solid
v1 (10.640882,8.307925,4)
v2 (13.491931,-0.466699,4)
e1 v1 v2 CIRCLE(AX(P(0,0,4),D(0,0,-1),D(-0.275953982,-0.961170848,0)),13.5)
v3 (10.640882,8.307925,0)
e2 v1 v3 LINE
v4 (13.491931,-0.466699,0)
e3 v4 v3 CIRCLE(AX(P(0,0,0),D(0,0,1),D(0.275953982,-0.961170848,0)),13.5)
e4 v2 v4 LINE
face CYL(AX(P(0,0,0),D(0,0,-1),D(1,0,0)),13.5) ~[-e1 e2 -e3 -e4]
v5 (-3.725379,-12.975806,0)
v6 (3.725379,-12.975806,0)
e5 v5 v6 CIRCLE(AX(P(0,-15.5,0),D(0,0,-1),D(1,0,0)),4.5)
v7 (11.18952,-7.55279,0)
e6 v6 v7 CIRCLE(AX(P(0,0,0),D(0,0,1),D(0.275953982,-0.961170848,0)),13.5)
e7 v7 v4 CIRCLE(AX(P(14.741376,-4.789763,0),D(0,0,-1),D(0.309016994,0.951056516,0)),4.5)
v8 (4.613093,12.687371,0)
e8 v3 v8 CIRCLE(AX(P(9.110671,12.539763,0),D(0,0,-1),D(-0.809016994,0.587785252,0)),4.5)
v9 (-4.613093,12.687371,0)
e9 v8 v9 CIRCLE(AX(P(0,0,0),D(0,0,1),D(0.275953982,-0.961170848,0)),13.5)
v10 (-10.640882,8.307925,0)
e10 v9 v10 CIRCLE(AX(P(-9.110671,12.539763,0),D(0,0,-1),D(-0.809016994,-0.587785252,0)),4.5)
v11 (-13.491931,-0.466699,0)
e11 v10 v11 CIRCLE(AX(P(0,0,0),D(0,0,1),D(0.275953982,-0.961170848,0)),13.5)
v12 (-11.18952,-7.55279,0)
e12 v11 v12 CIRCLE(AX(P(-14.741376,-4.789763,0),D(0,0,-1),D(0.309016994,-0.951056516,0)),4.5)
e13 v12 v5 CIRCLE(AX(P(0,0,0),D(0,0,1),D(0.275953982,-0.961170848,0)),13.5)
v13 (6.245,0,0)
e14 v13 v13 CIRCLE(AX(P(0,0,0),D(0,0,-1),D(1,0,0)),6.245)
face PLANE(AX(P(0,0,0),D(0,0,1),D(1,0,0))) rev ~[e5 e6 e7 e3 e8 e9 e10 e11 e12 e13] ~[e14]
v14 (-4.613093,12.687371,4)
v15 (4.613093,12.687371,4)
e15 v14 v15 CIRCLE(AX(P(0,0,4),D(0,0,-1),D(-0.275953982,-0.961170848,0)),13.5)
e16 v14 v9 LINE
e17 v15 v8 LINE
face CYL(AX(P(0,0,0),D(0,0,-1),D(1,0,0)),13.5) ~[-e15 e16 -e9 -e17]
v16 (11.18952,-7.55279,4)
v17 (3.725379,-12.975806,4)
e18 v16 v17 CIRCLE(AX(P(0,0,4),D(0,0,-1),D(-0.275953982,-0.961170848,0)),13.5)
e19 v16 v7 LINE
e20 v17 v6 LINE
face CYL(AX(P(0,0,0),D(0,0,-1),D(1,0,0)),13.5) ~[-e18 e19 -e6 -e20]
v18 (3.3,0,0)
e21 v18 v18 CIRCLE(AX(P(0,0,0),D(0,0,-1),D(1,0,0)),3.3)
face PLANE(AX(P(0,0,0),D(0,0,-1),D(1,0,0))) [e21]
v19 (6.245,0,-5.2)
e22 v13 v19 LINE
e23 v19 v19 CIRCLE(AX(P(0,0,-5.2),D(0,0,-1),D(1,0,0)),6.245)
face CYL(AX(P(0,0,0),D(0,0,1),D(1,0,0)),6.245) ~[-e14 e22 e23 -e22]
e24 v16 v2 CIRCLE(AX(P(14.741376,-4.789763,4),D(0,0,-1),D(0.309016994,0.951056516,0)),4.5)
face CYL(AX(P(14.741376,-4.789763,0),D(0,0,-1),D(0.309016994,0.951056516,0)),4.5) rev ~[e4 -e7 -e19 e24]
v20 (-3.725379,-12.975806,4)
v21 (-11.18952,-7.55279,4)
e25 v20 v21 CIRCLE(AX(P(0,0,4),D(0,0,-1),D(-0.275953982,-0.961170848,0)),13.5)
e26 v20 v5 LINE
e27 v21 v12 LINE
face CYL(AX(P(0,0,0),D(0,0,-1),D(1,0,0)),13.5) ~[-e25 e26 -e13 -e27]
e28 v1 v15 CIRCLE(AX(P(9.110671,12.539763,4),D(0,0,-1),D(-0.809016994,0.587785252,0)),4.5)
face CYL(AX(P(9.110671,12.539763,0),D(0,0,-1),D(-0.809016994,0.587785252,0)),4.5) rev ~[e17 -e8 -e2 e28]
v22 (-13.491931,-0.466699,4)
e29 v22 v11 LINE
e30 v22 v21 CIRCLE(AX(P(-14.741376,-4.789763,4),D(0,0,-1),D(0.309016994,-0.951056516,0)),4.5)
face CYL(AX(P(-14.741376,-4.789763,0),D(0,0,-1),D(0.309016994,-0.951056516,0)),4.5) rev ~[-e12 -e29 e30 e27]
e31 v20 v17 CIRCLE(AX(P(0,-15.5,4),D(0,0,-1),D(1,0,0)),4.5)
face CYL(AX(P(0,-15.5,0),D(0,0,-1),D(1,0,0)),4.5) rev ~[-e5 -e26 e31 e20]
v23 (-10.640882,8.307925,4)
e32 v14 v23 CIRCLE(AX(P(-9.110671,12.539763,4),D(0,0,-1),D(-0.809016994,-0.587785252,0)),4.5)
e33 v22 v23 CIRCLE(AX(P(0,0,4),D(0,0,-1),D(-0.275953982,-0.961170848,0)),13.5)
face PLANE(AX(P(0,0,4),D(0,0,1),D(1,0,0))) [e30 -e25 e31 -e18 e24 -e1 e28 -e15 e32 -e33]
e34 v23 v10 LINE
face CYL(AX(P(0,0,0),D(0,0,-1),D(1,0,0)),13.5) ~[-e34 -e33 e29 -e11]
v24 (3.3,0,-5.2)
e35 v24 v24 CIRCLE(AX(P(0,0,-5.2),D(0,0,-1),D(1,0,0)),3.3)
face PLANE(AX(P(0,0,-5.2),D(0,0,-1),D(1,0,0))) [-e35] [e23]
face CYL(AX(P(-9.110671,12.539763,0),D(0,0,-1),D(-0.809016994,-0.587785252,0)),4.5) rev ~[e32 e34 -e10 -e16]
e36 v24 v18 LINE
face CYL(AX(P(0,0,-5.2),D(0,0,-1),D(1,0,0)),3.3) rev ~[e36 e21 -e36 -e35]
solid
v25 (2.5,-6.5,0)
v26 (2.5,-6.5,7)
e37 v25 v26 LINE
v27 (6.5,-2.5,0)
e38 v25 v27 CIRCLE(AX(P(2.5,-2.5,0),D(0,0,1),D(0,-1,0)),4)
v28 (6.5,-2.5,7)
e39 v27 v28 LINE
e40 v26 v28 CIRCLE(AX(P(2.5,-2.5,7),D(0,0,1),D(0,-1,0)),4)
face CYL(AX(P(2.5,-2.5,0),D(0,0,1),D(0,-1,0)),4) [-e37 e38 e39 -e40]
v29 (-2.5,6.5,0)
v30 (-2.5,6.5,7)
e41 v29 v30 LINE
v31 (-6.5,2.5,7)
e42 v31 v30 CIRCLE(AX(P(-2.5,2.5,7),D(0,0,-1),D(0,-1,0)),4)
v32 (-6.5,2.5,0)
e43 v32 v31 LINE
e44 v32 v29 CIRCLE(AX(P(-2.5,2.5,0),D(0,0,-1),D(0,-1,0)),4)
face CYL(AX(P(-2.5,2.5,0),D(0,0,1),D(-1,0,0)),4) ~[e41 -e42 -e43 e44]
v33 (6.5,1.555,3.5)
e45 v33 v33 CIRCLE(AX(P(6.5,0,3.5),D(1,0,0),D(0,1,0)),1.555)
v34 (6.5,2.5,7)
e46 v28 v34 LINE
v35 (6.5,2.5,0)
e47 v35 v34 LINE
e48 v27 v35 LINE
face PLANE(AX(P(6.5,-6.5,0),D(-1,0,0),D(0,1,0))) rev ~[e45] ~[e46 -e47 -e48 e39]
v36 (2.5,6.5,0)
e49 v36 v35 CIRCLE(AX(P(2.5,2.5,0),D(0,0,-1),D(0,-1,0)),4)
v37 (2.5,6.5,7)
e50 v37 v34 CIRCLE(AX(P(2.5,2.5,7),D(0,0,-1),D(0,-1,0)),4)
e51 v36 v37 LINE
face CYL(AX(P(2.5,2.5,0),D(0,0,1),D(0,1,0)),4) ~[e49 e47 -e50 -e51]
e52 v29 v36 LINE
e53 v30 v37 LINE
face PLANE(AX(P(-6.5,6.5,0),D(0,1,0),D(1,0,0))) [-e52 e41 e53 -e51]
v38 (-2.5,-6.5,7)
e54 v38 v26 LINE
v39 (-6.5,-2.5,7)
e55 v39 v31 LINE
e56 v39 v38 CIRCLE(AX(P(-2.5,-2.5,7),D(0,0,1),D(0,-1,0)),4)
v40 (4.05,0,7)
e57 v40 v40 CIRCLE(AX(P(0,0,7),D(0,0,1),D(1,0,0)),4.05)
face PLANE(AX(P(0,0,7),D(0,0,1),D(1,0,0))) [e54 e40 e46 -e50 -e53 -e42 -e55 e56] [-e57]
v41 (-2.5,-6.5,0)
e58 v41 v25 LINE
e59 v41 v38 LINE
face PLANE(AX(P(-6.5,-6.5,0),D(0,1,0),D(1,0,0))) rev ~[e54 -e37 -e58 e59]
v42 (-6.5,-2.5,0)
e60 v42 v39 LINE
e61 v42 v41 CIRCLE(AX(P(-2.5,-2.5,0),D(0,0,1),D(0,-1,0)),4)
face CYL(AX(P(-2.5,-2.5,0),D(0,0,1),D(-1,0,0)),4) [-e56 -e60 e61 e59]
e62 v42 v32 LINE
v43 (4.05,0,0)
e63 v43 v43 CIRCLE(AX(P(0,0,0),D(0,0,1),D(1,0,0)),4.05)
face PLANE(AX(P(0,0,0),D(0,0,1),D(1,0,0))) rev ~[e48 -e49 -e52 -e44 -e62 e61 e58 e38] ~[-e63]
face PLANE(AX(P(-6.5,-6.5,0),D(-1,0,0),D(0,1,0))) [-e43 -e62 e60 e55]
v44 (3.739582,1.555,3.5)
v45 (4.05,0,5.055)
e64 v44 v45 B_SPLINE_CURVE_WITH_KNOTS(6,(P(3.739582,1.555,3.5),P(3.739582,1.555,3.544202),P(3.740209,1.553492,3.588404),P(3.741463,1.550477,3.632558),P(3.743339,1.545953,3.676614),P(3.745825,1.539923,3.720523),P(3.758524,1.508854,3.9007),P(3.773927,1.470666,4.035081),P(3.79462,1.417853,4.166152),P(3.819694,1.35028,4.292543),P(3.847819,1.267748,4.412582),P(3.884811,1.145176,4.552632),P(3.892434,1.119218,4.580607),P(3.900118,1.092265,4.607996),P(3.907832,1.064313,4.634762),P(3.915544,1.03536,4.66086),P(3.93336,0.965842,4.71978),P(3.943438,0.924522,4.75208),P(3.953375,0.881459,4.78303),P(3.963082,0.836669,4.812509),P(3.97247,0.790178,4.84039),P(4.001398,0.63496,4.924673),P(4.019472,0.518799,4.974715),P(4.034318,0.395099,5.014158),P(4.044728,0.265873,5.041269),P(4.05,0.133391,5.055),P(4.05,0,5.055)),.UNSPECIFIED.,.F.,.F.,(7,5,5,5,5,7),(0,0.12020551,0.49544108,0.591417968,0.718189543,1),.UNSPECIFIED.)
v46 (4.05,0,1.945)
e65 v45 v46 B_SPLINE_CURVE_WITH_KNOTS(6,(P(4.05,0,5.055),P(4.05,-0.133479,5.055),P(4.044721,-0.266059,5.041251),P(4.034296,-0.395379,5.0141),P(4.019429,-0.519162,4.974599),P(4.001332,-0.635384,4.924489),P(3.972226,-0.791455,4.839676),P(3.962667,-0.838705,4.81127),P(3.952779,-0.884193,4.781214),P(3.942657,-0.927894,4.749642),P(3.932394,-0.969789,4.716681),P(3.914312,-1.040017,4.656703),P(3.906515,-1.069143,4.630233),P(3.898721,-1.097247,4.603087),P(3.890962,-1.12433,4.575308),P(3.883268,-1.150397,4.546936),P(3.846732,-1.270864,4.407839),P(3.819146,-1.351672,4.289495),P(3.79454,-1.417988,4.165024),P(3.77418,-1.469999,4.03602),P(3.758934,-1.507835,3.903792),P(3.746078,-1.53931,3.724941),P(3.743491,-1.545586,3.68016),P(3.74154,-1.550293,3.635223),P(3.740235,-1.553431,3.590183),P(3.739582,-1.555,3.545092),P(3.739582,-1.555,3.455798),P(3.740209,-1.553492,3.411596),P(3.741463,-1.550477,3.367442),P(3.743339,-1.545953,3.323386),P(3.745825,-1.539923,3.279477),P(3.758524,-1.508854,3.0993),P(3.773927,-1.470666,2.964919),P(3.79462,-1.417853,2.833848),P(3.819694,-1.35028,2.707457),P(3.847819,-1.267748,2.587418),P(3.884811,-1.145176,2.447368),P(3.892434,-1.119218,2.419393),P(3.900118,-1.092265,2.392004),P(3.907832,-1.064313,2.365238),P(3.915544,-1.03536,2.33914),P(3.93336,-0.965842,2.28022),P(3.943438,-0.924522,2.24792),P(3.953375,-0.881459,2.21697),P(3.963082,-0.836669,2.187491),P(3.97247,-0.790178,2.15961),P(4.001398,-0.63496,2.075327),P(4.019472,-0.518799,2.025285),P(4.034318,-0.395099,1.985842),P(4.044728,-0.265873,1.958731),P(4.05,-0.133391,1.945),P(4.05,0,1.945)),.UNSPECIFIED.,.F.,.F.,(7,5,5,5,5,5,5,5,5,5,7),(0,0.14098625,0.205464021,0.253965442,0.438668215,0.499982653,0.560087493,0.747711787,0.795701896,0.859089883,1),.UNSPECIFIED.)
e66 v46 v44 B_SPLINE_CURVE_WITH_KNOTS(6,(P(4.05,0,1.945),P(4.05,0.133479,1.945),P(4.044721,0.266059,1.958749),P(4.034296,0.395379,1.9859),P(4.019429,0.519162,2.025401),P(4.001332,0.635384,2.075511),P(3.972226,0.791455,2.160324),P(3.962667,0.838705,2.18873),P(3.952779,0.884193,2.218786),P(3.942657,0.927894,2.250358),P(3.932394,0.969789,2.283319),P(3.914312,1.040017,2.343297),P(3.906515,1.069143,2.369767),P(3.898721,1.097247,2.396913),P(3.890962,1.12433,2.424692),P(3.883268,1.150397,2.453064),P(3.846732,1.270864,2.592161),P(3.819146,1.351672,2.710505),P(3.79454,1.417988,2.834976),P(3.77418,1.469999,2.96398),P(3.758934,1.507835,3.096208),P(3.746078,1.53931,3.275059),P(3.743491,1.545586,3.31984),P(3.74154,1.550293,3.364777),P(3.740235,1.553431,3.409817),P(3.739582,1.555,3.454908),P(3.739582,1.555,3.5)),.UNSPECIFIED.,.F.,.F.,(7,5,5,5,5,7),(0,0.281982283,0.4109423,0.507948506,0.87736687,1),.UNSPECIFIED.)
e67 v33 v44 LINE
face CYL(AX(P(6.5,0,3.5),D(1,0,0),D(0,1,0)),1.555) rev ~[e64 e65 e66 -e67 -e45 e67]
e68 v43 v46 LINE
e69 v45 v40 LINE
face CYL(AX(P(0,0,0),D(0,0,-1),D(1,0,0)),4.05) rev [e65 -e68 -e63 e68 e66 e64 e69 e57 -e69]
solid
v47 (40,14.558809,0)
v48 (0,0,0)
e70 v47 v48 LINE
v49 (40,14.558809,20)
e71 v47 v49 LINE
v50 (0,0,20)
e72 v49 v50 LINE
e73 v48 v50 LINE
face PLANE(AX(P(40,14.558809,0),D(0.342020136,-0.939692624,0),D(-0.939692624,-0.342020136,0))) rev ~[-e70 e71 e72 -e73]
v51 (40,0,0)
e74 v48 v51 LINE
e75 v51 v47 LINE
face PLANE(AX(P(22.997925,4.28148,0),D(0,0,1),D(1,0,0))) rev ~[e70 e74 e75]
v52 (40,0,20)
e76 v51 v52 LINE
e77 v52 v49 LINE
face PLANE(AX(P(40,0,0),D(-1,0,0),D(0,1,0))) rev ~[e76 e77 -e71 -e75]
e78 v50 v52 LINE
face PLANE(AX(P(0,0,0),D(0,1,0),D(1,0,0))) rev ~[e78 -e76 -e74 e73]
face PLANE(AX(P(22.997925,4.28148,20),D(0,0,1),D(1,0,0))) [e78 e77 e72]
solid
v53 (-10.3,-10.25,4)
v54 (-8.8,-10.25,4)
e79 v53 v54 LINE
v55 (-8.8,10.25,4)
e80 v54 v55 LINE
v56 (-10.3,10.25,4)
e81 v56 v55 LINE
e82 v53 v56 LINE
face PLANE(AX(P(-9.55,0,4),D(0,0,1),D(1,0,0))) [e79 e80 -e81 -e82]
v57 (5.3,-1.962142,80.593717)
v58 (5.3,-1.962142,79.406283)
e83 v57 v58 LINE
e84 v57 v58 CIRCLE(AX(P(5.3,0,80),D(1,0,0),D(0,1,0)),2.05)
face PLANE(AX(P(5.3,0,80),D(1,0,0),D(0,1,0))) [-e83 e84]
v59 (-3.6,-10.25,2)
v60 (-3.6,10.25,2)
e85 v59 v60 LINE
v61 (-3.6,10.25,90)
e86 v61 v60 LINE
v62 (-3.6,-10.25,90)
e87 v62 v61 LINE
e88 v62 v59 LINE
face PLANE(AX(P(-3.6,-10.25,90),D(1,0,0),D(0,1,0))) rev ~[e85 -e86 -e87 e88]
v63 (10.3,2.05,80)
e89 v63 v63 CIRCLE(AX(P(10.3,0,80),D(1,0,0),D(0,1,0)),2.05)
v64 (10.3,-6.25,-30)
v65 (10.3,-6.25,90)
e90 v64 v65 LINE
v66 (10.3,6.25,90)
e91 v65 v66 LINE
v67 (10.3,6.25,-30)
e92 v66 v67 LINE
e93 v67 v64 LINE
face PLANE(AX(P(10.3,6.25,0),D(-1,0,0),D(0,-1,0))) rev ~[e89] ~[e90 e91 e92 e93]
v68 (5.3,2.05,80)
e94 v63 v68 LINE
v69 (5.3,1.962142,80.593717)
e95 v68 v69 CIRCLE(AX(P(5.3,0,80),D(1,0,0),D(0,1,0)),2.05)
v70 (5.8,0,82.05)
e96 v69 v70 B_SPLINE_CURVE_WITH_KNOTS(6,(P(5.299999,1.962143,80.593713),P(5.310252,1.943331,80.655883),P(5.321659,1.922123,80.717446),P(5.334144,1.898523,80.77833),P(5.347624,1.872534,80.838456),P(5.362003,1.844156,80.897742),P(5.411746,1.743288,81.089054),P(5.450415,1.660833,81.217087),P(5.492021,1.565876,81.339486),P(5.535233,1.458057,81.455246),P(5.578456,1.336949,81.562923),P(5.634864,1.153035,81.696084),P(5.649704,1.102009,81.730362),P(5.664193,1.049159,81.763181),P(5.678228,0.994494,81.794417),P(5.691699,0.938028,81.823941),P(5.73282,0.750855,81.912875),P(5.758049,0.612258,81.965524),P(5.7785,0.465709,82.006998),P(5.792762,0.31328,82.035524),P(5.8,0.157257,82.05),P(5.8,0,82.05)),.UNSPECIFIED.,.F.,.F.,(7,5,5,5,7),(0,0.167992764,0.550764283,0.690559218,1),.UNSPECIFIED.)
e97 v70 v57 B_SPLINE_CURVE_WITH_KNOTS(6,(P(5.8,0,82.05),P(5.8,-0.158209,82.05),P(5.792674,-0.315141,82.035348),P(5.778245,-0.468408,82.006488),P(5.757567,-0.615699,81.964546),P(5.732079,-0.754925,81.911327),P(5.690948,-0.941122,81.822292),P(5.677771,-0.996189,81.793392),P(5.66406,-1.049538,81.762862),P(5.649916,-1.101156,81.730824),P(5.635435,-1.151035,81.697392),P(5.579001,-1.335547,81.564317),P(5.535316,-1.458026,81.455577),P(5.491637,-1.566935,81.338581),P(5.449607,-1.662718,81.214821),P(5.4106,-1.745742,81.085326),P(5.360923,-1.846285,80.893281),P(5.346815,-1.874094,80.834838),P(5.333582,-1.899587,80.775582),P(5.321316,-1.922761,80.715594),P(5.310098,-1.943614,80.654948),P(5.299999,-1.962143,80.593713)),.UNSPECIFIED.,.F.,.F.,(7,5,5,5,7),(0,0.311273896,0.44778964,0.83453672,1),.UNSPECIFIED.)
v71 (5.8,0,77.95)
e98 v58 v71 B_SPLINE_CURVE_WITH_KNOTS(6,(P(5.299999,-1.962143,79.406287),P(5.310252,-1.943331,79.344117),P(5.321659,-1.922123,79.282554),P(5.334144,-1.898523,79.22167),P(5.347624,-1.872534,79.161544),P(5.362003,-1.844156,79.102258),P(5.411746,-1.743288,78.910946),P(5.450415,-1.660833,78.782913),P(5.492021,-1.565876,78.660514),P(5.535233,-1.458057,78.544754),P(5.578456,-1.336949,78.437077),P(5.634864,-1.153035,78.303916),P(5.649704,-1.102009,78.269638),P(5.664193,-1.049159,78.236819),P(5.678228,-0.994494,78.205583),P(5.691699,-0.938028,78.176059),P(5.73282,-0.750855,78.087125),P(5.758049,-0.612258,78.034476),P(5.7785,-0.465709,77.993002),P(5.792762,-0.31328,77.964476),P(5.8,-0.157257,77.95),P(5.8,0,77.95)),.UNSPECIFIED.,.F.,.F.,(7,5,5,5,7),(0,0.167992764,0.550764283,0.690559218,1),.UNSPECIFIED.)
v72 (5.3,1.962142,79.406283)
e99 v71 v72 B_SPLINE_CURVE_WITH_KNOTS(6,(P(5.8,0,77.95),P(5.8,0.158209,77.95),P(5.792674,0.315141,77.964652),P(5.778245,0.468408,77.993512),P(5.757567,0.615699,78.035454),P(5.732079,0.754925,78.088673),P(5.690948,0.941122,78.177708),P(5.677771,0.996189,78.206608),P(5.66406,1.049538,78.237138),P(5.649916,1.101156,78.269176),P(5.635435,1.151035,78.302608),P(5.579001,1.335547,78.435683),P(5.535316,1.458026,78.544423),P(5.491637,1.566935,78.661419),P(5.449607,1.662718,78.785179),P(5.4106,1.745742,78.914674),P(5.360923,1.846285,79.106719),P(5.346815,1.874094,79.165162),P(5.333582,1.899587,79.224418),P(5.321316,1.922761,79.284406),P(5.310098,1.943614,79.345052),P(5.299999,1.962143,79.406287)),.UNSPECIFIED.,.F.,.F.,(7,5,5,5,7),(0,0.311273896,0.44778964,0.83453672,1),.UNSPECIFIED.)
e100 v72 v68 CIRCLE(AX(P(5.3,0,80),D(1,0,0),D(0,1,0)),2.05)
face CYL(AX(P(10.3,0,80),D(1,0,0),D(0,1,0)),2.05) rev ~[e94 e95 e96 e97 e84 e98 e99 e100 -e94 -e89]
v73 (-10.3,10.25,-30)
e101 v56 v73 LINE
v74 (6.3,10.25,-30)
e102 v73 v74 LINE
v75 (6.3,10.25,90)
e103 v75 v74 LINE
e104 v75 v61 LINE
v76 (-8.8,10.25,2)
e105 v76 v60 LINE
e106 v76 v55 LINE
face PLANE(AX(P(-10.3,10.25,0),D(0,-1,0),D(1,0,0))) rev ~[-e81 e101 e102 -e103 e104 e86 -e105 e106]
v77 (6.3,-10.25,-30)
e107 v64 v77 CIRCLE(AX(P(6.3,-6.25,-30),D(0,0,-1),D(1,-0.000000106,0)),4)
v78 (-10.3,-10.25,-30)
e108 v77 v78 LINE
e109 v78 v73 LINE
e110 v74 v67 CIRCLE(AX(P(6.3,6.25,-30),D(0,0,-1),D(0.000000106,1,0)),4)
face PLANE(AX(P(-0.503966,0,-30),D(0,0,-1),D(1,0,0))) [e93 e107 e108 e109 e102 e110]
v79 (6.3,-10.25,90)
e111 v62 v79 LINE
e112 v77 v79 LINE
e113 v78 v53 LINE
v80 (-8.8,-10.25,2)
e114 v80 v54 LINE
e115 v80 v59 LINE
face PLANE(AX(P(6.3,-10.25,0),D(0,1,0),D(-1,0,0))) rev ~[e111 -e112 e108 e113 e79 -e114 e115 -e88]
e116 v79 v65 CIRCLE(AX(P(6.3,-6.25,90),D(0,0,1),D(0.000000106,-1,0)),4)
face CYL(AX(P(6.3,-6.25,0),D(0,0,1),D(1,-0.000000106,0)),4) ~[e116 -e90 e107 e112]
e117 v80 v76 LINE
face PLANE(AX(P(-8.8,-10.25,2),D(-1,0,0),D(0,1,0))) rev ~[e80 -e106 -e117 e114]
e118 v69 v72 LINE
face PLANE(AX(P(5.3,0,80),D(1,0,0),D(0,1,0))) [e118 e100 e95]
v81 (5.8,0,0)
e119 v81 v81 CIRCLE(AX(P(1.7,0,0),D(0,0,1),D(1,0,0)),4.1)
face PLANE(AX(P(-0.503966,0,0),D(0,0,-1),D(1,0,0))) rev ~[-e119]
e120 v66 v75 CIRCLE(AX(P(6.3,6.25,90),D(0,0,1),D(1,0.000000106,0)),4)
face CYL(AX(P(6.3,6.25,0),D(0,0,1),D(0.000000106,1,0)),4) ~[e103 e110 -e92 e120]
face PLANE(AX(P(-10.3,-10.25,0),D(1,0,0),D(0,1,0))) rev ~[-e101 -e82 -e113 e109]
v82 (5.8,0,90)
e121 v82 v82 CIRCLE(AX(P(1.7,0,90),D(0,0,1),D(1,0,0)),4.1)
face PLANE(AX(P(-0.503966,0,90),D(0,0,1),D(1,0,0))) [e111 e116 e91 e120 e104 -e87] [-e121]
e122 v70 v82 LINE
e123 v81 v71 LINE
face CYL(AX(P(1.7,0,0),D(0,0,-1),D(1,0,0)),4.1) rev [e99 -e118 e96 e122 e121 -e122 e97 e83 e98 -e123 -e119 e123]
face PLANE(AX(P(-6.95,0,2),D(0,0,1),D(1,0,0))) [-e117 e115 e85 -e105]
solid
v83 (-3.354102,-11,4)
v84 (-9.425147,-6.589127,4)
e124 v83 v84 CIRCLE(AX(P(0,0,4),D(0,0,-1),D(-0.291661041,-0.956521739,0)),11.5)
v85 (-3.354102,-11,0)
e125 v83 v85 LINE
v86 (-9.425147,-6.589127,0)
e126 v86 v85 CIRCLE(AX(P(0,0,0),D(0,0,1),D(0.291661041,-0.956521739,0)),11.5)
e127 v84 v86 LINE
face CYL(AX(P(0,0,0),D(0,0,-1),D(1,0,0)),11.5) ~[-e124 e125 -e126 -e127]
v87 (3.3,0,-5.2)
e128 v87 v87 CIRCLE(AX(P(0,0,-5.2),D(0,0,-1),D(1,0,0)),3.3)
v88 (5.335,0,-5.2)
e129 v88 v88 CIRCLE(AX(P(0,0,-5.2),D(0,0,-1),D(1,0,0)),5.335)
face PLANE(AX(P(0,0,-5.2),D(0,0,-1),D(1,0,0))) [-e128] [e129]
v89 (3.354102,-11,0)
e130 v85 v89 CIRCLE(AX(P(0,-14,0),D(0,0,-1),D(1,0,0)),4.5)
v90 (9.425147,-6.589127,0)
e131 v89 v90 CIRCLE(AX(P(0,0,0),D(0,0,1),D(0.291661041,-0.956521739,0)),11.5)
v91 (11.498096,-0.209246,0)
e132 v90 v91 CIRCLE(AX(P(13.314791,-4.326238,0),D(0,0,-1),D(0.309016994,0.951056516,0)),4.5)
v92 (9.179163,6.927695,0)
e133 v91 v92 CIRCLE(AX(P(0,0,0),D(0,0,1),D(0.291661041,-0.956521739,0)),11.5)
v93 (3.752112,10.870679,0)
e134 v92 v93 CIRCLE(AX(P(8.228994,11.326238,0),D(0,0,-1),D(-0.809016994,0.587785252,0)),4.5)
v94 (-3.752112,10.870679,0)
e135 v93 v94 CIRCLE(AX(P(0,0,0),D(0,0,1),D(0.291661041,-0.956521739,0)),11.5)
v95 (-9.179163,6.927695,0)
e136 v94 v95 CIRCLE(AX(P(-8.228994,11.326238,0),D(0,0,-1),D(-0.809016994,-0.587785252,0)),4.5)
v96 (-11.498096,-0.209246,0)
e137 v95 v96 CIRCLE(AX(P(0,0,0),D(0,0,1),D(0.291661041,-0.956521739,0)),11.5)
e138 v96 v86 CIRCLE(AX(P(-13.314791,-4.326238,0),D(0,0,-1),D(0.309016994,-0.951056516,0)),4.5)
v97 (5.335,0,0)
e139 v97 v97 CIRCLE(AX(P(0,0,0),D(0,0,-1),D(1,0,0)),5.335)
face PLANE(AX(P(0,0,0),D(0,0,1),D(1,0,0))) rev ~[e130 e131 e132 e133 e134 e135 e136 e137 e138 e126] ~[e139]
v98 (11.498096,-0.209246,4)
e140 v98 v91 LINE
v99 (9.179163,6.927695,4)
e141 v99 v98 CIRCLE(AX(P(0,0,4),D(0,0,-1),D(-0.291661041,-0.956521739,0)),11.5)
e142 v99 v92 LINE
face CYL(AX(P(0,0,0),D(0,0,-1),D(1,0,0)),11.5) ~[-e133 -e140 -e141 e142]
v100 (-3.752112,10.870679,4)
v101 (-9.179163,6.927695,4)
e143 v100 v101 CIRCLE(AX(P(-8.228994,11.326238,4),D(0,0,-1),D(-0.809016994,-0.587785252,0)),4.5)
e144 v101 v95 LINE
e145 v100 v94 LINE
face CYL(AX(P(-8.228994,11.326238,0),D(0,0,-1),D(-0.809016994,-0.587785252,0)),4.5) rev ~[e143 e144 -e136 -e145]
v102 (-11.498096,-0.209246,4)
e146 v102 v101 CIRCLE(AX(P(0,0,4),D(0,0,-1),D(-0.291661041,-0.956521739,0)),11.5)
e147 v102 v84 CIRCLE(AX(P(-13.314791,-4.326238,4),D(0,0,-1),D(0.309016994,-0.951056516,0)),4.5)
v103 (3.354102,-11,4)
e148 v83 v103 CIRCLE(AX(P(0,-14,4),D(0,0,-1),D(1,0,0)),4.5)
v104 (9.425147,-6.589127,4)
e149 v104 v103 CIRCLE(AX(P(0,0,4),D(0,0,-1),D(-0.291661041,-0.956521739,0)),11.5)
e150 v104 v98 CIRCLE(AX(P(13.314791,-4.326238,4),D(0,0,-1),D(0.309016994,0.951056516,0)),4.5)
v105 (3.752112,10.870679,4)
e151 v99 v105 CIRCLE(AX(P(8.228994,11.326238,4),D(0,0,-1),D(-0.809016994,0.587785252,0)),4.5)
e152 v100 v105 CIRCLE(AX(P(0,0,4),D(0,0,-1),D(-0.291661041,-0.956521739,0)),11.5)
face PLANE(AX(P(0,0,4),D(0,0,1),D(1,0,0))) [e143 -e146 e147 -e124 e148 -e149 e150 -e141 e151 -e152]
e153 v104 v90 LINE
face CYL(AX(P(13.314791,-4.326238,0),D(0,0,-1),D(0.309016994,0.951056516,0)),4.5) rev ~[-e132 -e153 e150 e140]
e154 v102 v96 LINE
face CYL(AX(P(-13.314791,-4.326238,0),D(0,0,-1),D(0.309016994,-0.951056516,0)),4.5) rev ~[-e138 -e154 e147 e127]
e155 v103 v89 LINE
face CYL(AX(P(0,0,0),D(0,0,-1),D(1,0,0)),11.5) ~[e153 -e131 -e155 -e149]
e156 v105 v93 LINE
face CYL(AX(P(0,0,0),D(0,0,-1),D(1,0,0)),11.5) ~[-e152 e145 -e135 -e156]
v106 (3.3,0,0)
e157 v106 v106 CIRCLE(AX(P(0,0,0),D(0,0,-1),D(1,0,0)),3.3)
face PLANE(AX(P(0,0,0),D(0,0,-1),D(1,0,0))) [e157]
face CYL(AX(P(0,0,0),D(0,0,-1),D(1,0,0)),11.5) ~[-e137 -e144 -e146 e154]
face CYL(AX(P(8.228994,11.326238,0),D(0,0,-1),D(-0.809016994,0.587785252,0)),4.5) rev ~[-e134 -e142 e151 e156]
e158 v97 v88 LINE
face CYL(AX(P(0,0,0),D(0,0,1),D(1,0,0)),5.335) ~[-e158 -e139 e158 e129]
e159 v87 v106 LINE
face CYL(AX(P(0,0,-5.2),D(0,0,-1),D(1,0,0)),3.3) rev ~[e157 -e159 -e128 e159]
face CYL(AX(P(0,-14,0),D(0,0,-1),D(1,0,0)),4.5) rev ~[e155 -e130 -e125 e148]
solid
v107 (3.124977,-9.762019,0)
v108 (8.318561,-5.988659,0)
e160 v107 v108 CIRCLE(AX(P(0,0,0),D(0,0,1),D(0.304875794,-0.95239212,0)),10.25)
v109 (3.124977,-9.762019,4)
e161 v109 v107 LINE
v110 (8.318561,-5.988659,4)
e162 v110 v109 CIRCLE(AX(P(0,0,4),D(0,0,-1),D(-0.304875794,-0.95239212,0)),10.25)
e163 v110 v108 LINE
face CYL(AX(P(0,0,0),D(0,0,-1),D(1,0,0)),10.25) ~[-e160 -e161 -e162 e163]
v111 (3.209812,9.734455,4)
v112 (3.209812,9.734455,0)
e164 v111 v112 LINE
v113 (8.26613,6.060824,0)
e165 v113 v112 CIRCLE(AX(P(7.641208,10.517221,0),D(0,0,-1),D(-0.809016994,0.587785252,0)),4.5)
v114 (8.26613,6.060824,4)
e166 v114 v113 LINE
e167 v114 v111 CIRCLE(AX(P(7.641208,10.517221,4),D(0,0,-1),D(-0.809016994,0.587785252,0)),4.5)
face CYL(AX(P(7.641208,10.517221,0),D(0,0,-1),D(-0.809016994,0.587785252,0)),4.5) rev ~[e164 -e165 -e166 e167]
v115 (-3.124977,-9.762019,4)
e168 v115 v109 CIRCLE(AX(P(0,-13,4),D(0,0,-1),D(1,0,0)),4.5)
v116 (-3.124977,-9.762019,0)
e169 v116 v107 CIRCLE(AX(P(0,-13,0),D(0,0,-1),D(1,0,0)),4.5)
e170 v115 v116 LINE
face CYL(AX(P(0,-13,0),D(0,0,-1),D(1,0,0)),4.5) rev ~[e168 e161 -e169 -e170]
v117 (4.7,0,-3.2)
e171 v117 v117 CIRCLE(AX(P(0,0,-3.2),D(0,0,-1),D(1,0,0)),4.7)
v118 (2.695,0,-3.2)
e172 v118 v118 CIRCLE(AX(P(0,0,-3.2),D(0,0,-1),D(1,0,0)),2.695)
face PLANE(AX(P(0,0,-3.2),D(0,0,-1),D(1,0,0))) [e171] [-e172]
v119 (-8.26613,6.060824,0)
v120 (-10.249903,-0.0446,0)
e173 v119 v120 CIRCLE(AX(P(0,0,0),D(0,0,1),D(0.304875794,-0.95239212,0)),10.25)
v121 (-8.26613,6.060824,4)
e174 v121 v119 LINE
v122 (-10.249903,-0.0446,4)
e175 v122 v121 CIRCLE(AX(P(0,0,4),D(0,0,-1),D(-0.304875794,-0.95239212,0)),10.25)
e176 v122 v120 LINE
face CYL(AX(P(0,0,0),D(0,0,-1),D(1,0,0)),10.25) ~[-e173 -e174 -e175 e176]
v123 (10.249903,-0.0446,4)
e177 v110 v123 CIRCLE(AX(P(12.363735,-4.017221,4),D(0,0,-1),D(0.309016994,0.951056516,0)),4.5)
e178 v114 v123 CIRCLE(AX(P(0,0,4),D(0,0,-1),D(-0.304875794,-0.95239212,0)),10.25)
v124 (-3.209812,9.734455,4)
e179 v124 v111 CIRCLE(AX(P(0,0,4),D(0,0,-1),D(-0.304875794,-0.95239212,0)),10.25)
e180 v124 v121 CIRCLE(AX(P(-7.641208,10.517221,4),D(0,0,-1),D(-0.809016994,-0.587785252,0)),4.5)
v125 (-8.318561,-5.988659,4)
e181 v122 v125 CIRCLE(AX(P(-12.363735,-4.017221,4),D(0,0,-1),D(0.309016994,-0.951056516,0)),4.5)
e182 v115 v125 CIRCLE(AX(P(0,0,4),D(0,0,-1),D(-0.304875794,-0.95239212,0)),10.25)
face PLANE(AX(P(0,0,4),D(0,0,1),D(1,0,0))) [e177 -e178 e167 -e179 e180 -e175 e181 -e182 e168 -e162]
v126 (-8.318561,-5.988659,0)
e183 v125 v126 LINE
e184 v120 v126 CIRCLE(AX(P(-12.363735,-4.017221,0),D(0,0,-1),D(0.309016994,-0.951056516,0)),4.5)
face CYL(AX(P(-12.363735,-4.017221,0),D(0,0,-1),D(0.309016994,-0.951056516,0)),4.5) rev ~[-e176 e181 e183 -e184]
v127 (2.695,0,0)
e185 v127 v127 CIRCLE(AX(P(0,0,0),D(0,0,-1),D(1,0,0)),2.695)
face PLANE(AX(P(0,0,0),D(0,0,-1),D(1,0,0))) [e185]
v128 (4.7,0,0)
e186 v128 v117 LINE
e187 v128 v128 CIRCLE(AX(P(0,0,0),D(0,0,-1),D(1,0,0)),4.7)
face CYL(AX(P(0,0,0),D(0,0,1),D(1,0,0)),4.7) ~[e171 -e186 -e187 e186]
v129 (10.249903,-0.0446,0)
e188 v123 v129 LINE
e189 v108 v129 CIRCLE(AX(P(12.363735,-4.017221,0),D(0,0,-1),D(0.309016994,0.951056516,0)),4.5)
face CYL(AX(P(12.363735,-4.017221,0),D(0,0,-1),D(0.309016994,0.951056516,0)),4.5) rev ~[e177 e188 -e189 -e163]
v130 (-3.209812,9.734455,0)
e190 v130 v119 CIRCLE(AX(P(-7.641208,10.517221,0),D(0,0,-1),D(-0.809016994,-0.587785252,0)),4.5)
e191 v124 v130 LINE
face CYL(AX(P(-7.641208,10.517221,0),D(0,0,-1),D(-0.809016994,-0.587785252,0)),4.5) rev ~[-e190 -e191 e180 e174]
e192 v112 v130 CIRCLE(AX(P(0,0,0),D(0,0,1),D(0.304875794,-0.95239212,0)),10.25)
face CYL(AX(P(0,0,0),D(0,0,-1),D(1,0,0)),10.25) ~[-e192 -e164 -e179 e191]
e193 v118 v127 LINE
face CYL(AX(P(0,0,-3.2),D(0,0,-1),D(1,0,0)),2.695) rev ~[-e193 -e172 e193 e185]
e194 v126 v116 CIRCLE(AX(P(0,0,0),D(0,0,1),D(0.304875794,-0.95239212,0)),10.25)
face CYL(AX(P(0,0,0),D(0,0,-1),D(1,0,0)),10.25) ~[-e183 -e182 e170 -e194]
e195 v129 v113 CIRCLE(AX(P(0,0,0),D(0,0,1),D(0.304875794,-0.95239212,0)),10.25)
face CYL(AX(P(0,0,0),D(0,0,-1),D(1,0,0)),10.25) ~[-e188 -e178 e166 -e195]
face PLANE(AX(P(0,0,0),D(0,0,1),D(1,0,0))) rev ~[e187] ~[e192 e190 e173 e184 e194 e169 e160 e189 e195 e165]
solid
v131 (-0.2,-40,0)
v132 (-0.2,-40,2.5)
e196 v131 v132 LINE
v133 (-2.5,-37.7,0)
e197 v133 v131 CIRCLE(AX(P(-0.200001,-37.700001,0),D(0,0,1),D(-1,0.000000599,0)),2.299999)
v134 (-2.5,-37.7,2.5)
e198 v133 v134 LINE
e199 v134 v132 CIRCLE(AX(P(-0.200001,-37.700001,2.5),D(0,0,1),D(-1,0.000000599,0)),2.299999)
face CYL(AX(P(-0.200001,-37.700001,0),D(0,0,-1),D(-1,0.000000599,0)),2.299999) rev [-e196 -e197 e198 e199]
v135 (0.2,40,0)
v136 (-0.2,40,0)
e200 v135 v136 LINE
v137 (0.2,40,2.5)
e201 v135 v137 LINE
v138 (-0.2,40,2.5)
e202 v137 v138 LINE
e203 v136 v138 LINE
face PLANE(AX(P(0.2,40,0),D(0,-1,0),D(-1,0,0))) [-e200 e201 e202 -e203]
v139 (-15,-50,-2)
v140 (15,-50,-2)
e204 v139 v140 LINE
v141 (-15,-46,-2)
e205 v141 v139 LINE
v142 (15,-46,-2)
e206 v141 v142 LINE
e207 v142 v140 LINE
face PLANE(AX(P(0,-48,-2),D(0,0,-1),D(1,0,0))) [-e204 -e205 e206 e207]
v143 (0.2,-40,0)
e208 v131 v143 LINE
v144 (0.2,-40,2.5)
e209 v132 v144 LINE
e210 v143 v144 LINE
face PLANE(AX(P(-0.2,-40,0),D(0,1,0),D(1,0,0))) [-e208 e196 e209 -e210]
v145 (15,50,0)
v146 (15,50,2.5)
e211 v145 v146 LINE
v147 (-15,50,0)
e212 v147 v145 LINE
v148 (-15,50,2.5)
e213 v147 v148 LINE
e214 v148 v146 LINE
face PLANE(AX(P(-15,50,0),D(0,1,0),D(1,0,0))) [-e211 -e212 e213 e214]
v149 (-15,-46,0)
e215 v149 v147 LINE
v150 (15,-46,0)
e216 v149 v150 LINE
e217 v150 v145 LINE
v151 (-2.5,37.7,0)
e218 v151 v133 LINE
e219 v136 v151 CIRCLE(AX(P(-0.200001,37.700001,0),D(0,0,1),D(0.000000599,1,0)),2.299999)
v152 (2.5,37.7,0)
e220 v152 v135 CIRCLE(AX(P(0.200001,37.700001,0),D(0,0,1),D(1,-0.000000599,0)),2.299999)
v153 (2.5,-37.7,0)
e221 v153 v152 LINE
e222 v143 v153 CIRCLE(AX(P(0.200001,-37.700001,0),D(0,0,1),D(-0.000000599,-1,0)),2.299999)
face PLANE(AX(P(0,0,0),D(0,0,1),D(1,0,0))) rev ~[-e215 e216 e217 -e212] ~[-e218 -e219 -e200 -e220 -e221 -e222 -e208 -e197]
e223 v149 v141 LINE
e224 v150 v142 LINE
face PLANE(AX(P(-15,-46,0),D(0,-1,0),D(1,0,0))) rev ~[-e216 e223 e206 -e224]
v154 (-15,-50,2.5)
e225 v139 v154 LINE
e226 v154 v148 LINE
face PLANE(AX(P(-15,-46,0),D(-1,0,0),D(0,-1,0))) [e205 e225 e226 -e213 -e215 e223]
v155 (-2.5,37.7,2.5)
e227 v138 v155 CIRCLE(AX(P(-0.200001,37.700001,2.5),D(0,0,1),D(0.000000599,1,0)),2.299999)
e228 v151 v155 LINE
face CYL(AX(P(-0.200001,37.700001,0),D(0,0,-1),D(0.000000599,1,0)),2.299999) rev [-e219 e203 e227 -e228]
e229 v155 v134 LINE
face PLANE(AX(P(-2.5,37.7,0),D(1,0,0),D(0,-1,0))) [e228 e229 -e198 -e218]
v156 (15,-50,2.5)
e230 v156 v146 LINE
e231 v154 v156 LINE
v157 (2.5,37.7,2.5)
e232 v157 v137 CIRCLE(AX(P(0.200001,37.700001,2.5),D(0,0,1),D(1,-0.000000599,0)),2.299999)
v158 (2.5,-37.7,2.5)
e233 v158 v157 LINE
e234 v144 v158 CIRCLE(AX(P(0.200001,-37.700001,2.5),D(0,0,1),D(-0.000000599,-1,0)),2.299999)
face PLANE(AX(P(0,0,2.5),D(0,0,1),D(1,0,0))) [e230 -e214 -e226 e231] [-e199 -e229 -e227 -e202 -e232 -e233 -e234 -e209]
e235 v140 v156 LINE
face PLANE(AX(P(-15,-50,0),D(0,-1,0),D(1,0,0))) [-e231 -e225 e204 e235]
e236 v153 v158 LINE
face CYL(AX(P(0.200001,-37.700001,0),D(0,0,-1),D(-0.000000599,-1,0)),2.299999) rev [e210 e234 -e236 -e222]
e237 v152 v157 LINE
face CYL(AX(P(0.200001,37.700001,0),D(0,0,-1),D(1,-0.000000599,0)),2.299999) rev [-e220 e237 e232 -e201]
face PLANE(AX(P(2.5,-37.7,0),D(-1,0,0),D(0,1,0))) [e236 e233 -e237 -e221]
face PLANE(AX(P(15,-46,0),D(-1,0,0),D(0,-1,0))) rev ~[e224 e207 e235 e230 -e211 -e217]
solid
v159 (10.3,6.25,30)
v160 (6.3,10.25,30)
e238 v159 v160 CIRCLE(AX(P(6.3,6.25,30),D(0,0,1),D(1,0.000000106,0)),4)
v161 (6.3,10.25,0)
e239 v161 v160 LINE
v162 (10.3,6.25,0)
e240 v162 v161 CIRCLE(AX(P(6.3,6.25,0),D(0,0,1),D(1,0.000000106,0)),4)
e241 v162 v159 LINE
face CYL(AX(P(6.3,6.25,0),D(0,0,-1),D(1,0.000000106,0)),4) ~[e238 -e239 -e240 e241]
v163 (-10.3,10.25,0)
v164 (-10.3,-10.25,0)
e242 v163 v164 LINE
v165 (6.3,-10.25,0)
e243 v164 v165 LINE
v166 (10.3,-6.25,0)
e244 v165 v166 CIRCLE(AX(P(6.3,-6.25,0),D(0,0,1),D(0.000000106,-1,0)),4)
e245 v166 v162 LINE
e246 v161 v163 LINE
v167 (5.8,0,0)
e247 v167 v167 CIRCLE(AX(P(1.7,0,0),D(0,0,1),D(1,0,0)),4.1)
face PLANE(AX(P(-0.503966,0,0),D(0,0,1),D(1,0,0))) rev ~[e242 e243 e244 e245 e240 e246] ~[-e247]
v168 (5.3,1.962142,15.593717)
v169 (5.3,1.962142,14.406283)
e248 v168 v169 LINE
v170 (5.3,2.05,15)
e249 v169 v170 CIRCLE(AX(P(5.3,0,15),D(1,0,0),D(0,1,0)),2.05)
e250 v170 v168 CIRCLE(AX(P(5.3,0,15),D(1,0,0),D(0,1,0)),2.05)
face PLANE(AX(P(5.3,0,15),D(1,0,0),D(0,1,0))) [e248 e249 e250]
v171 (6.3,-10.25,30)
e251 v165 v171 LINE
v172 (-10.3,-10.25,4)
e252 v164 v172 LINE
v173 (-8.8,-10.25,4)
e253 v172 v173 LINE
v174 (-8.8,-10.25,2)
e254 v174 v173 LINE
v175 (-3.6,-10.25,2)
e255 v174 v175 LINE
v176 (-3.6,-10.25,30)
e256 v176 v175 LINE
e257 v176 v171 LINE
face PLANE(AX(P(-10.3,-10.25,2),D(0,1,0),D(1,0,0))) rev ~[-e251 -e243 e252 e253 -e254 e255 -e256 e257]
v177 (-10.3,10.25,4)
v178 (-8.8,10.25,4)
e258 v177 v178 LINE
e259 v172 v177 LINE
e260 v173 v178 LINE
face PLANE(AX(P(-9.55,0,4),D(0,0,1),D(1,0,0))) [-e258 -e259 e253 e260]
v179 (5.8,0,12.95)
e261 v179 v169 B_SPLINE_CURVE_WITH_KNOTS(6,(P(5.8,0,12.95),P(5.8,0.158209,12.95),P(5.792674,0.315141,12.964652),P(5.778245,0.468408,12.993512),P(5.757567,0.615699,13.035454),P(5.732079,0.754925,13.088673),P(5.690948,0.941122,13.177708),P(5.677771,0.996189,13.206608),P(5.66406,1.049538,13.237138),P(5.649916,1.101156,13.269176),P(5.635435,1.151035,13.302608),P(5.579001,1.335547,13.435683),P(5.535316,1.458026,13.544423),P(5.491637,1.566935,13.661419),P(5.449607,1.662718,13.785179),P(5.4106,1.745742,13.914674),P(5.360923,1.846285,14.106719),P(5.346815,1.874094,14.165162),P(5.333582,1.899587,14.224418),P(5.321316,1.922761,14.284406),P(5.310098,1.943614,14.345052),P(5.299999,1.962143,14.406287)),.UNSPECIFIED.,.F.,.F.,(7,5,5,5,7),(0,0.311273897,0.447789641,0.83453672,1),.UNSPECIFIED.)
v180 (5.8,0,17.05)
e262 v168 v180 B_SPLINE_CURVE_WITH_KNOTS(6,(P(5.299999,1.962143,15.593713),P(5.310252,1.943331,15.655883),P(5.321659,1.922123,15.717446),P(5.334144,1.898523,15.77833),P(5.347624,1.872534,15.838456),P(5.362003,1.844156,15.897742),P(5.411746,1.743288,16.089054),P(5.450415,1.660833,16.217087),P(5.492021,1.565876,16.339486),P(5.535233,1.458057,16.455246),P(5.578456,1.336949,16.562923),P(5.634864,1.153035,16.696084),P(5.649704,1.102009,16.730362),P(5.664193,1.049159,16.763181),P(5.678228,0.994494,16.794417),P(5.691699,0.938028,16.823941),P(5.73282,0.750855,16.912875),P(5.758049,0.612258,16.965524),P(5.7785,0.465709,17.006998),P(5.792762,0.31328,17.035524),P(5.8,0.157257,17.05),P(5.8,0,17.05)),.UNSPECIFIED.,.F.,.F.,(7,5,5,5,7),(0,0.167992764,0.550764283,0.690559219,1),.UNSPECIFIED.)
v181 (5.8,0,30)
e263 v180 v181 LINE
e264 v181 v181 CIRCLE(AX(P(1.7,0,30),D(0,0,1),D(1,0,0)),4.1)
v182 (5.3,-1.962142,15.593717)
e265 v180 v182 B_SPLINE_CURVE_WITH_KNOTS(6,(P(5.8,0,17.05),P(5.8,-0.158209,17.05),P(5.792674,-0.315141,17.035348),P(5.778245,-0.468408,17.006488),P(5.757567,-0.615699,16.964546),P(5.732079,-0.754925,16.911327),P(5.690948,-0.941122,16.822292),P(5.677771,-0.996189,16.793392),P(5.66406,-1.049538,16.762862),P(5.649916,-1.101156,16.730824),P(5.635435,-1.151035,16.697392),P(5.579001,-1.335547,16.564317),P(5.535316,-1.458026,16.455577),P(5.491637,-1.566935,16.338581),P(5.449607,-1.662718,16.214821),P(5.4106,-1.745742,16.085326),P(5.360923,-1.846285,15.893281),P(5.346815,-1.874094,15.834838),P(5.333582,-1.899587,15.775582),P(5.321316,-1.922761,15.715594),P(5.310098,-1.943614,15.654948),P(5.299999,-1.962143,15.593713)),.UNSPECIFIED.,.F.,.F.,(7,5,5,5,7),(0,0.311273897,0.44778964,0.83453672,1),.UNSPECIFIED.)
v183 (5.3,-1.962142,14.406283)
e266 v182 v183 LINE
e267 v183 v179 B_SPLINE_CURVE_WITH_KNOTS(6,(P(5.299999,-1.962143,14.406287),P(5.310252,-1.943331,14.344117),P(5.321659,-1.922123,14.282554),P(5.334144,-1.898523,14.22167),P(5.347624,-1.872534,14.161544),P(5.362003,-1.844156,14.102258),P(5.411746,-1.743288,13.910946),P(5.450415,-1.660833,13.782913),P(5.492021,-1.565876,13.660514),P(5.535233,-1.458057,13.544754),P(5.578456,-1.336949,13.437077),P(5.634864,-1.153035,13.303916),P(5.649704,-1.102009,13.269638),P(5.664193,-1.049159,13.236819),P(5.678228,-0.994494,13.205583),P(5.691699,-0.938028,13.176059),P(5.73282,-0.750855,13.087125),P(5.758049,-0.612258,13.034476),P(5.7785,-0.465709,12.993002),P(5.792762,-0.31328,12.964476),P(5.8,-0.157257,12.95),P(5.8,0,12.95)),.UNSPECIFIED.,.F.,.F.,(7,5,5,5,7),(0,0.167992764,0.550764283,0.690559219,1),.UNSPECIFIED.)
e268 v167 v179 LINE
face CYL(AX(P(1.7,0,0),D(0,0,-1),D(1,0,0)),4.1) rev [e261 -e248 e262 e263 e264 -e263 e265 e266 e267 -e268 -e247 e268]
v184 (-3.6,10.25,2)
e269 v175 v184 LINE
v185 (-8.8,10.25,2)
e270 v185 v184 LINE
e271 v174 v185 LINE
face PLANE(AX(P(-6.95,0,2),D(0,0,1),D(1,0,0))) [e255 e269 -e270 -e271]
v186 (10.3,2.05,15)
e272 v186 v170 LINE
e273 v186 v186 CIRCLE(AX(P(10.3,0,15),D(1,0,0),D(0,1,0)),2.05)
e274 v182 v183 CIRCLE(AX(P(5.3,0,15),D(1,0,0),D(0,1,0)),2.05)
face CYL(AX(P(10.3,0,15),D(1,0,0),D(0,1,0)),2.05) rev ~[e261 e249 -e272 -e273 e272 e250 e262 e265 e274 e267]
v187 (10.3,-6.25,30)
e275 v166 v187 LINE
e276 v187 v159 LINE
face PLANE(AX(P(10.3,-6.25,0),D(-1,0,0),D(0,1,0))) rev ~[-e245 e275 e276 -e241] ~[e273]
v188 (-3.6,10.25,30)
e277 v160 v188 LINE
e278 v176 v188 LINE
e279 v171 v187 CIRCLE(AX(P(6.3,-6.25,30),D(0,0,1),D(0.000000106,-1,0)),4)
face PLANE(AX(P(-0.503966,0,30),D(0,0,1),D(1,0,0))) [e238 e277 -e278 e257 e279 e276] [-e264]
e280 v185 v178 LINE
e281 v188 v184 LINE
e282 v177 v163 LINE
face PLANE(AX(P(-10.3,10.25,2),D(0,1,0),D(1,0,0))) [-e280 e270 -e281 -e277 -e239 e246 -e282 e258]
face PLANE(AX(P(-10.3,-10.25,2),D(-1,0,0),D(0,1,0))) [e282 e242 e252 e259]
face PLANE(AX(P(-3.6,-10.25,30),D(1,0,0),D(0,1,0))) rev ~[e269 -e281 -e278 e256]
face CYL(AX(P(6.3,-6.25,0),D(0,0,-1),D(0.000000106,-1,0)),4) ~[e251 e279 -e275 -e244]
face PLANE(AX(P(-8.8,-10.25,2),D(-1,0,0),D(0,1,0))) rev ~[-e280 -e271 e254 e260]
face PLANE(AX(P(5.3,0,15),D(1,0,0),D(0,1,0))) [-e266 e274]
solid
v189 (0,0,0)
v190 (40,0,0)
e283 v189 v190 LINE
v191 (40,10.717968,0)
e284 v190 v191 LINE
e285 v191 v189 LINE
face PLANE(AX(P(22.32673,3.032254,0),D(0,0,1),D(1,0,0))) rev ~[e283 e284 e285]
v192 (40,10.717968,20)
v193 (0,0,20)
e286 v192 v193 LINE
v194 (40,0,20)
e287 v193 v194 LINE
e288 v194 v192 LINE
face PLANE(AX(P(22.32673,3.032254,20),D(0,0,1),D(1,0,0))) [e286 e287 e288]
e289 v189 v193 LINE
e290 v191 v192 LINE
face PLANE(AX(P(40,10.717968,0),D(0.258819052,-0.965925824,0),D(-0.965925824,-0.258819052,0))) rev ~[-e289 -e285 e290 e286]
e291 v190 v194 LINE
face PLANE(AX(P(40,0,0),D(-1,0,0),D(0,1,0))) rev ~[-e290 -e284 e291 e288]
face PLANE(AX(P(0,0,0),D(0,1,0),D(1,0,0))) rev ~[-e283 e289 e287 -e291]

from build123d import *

# Parameters (mm, degrees)
PAD_DEPTH             = 20
PAD001_DEPTH          = 20
SKETCH002_R           = 4.1
PAD002_DEPTH          = 30
SKETCH003_W           = 6.7
SKETCH003_H           = 20.5
POCKET_DEPTH          = 28
SKETCH004_W           = 1.5
SKETCH004_H           = 20.5
PAD003_DEPTH          = 2
SKETCH005_R           = 2.05
POCKET001_DEPTH       = 5
SKETCH006_R           = 4.1
PAD004_DEPTH          = 90
SKETCH007_W           = 6.7
SKETCH007_H           = 20.5
POCKET002_DEPTH       = 88
SKETCH008_W           = 1.5
SKETCH008_H           = 20.5
PAD005_DEPTH          = 2
SKETCH009_R           = 2.05
POCKET003_DEPTH       = 5
PAD006_DEPTH          = 30
SKETCH011_W           = 30
SKETCH011_H           = 100
PAD007_DEPTH          = 2.5
SKETCH012_W           = 30
SKETCH012_H           = 4
PAD008_DEPTH          = 2
SKETCH013_W           = 13
SKETCH013_H           = 13
SKETCH013_R           = 4.05
PAD009_DEPTH          = 7
SKETCH014_R           = 1.555
POCKET004_DEPTH       = 5
FILLET_R              = 4
SKETCH015_R           = 10.25
PAD010_DEPTH          = 4
SKETCH016_R           = 4.7
PAD011_DEPTH          = 3.2
SKETCH017_R           = 2.695
POCKET005_DEPTH       = 3.2
SKETCH018_R           = 4.5
POCKET006_DEPTH       = 63.745121
POLARPATTERN_COUNT    = 5
SKETCH019_R           = 11.5
PAD012_DEPTH          = 4
SKETCH020_R           = 5.335
PAD013_DEPTH          = 5.2
SKETCH021_R           = 3.3
POCKET007_DEPTH       = 5.2
SKETCH022_R           = 4.5
POCKET008_DEPTH       = 71.606917
POLARPATTERN001_COUNT = 5
SKETCH023_R           = 13.5
PAD014_DEPTH          = 4
SKETCH024_R           = 6.245
PAD015_DEPTH          = 5.2
SKETCH025_R           = 3.3
POCKET009_DEPTH       = 5.2
SKETCH026_R           = 4.5
POCKET010_DEPTH       = 82.553912
POLARPATTERN002_COUNT = 5


with BuildPart() as f_20anglebody:
    # Sketch → Pad (new body)
    with BuildSketch(Plane.XY):
        Polygon((0, 0), (40, 0), (40, 14.558809), align=None)
    extrude(amount=PAD_DEPTH)


with BuildPart() as f_15anglebody:
    # Sketch001 → Pad001 (new body)
    with BuildSketch(Plane.XY):
        Polygon((0, 0), (40, 0), (40, 10.717968), align=None)
    extrude(amount=PAD001_DEPTH)


with BuildPart() as holdershaftbody:
    # Sketch002 → Pad002 (new body)
    with BuildSketch(Plane.XY):
        with BuildLine():
            Line((-10.3, 10.25), (-10.3, -10.25))
            Line((-10.3, -10.25), (6.3, -10.25))
            ThreePointArc((6.3, -10.25), (9.128427, -9.078427), (10.3, -6.25))
            Line((10.3, -6.25), (10.3, 6.25))
            ThreePointArc((10.3, 6.25), (9.128427, 9.078427), (6.3, 10.25))
            Line((6.3, 10.25), (-10.3, 10.25))
        make_face()
        with Locations((1.7, 0)):
            Circle(SKETCH002_R, mode=Mode.SUBTRACT)
    extrude(amount=PAD002_DEPTH)

    # Sketch003 (on Face9 of Pad002) → Pocket (cut)
    with BuildSketch(Plane.XY.offset(30)):
        with Locations((-6.95, 0)):
            Rectangle(SKETCH003_W, SKETCH003_H)
    extrude(amount=-POCKET_DEPTH, mode=Mode.SUBTRACT)

    # Sketch004 (on Face4 of Pocket) → Pad003 (join)
    with BuildSketch(Plane.XY.offset(2)):
        with Locations((-9.55, 0)):
            Rectangle(SKETCH004_W, SKETCH004_H)
    extrude(amount=PAD003_DEPTH)

    # Sketch005 (on Face3 of Pad003) → Pocket001 (cut)
    with BuildSketch(Plane.YZ.offset(10.3)):
        with Locations((0, 15)):
            Circle(SKETCH005_R)
    extrude(amount=-POCKET001_DEPTH, mode=Mode.SUBTRACT)


with BuildPart() as holderendbody:
    # Sketch006 → Pad004 (new body)
    with BuildSketch(Plane.XY):
        with BuildLine():
            Line((-10.3, 10.25), (-10.3, -10.25))
            Line((-10.3, -10.25), (6.3, -10.25))
            ThreePointArc((6.3, -10.25), (9.128427, -9.078427), (10.3, -6.25))
            Line((10.3, -6.25), (10.3, 6.25))
            ThreePointArc((10.3, 6.25), (9.128427, 9.078427), (6.3, 10.25))
            Line((6.3, 10.25), (-10.3, 10.25))
        make_face()
        with Locations((1.7, 0)):
            Circle(SKETCH006_R, mode=Mode.SUBTRACT)
    extrude(amount=PAD004_DEPTH)

    # Sketch007 (on Face9 of Pad004) → Pocket002 (cut)
    with BuildSketch(Plane.XY.offset(90)):
        with Locations((-6.95, 0)):
            Rectangle(SKETCH007_W, SKETCH007_H)
    extrude(amount=-POCKET002_DEPTH, mode=Mode.SUBTRACT)

    # Sketch008 (on Face4 of Pocket002) → Pad005 (join)
    with BuildSketch(Plane.XY.offset(2)):
        with Locations((-9.55, 0)):
            Rectangle(SKETCH008_W, SKETCH008_H)
    extrude(amount=PAD005_DEPTH)

    # Sketch009 (on Face3 of Pad005) → Pocket003 (cut)
    with BuildSketch(Plane.YZ.offset(10.3)):
        with Locations((0, 80)):
            Circle(SKETCH009_R)
        with Locations((0, 80)):
            Circle(SKETCH009_R)
    extrude(amount=-POCKET003_DEPTH, mode=Mode.SUBTRACT)

    # Sketch010 (on Face1 of Pocket003) → Pad006 (join)
    with BuildSketch(Plane(origin=(0, 0, 0), x_dir=(1, 0, 0), z_dir=(0, 0, -1))):
        with BuildLine():
            Line((-10.3, 10.25), (-10.3, -10.25))
            Line((-10.3, -10.25), (6.3, -10.25))
            ThreePointArc((6.3, -10.25), (9.128427, -9.078427), (10.3, -6.25))
            Line((10.3, -6.25), (10.3, 6.25))
            ThreePointArc((10.3, 6.25), (9.128427, 9.078427), (6.3, 10.25))
            Line((6.3, 10.25), (-10.3, 10.25))
        make_face()
    extrude(amount=PAD006_DEPTH)


with BuildPart() as knifebinderbody:
    # Sketch011 → Pad007 (new body)
    with BuildSketch(Plane.XY):
        Rectangle(SKETCH011_W, SKETCH011_H)
        with BuildLine():
            Line((-2.5, 37.7), (-2.5, -37.7))
            ThreePointArc((-2.5, -37.7), (-1.826346, -39.326346), (-0.2, -40))
            Line((-0.2, -40), (0.2, -40))
            ThreePointArc((0.2, -40), (1.826346, -39.326346), (2.5, -37.7))
            Line((2.5, -37.7), (2.5, 37.7))
            ThreePointArc((2.5, 37.7), (1.826346, 39.326346), (0.2, 40))
            Line((0.2, 40), (-0.2, 40))
            ThreePointArc((-0.2, 40), (-1.826346, 39.326346), (-2.5, 37.7))
        make_face(mode=Mode.SUBTRACT)
    extrude(amount=PAD007_DEPTH)

    # Sketch012 (on Face13 of Pad007) → Pad008 (join)
    with BuildSketch(Plane(origin=(0, 0, 0), x_dir=(1, 0, 0), z_dir=(0, 0, -1))):
        with Locations((0, 48)):
            Rectangle(SKETCH012_W, SKETCH012_H)
    extrude(amount=PAD008_DEPTH)


with BuildPart() as endblockkbody:
    # Sketch013 → Pad009 (new body)
    with BuildSketch(Plane.XY):
        Rectangle(SKETCH013_W, SKETCH013_H)
        Circle(SKETCH013_R, mode=Mode.SUBTRACT)
    extrude(amount=PAD009_DEPTH)

    # Sketch014 (on Face3 of Pad009) → Pocket004 (cut)
    with BuildSketch(Plane.YZ.offset(6.5)):
        with Locations((0, 3.5)):
            Circle(SKETCH014_R)
    extrude(amount=-POCKET004_DEPTH, mode=Mode.SUBTRACT)

    # Fillet
    fillet_edges = [endblockkbody.edges().sort_by_distance(p)[0] for p in [
        (6.5, 6.5, 3.5),
        (6.5, -6.5, 3.5),
        (-6.5, -6.5, 3.5),
        (-6.5, 6.5, 3.5),
    ]]
    fillet(fillet_edges, radius=FILLET_R)


with BuildPart() as f_3mmknobbody:
    # Sketch015 → Pad010 (new body)
    with BuildSketch(Plane.XY):
        Circle(SKETCH015_R)
    extrude(amount=PAD010_DEPTH)

    # Sketch016 (on Face2 of Pad010) → Pad011 (join)
    with BuildSketch(Plane(origin=(0, 0, 0), x_dir=(1, 0, 0), z_dir=(0, 0, -1))):
        Circle(SKETCH016_R)
    extrude(amount=PAD011_DEPTH)

    # Sketch017 (on Face5 of Pad011) → Pocket005 (cut)
    with BuildSketch(Plane(origin=(0, 0, -3.2), x_dir=(1, 0, 0), z_dir=(0, 0, -1))):
        Circle(SKETCH017_R)
    extrude(amount=-POCKET005_DEPTH, mode=Mode.SUBTRACT)

    # Sketch018 (on Face2 of Pocket005) → Pocket006 (cut, through all)
    with BuildSketch(Plane(origin=(0, 0, 0), x_dir=(1, 0, 0), z_dir=(0, 0, -1))):
        with Locations((0, 13)):
            Circle(SKETCH018_R)
    pocket006 = extrude(amount=-POCKET006_DEPTH, mode=Mode.SUBTRACT)

    # PolarPattern: Pocket006 ×5 about axis
    polarpattern_axis = Axis((0, 0, 0), (0, 0, -1))
    for i in range(1, POLARPATTERN_COUNT):
        add(pocket006.rotate(polarpattern_axis, i * 360 / POLARPATTERN_COUNT), mode=Mode.SUBTRACT)


with BuildPart() as f_4mmknobbody:
    # Sketch019 → Pad012 (new body)
    with BuildSketch(Plane.XY):
        Circle(SKETCH019_R)
    extrude(amount=PAD012_DEPTH)

    # Sketch020 (on Face2 of Pad012) → Pad013 (join)
    with BuildSketch(Plane(origin=(0, 0, 0), x_dir=(1, 0, 0), z_dir=(0, 0, -1))):
        Circle(SKETCH020_R)
    extrude(amount=PAD013_DEPTH)

    # Sketch021 (on Face5 of Pad013) → Pocket007 (cut)
    with BuildSketch(Plane(origin=(0, 0, -5.2), x_dir=(1, 0, 0), z_dir=(0, 0, -1))):
        Circle(SKETCH021_R)
    extrude(amount=-POCKET007_DEPTH, mode=Mode.SUBTRACT)

    # Sketch022 (on Face2 of Pocket007) → Pocket008 (cut, through all)
    with BuildSketch(Plane(origin=(0, 0, 0), x_dir=(1, 0, 0), z_dir=(0, 0, -1))):
        with Locations((0, 14)):
            Circle(SKETCH022_R)
    pocket008 = extrude(amount=-POCKET008_DEPTH, mode=Mode.SUBTRACT)

    # PolarPattern001: Pocket008 ×5 about axis
    polarpattern001_axis = Axis((0, 0, 0), (0, 0, -1))
    for i in range(1, POLARPATTERN001_COUNT):
        add(pocket008.rotate(polarpattern001_axis, i * 360 / POLARPATTERN001_COUNT), mode=Mode.SUBTRACT)


with BuildPart() as f_5mmknobbody:
    # Sketch023 → Pad014 (new body)
    with BuildSketch(Plane.XY):
        Circle(SKETCH023_R)
    extrude(amount=PAD014_DEPTH)

    # Sketch024 (on Face2 of Pad014) → Pad015 (join)
    with BuildSketch(Plane(origin=(0, 0, 0), x_dir=(1, 0, 0), z_dir=(0, 0, -1))):
        Circle(SKETCH024_R)
    extrude(amount=PAD015_DEPTH)

    # Sketch025 (on Face5 of Pad015) → Pocket009 (cut)
    with BuildSketch(Plane(origin=(0, 0, -5.2), x_dir=(1, 0, 0), z_dir=(0, 0, -1))):
        Circle(SKETCH025_R)
    extrude(amount=-POCKET009_DEPTH, mode=Mode.SUBTRACT)

    # Sketch026 (on Face2 of Pocket009) → Pocket010 (cut, through all)
    with BuildSketch(Plane(origin=(0, 0, 0), x_dir=(1, 0, 0), z_dir=(0, 0, -1))):
        with Locations((0, 15.5)):
            Circle(SKETCH026_R)
    pocket010 = extrude(amount=-POCKET010_DEPTH, mode=Mode.SUBTRACT)

    # PolarPattern002: Pocket010 ×5 about axis
    polarpattern002_axis = Axis((0, 0, 0), (0, 0, -1))
    for i in range(1, POLARPATTERN002_COUNT):
        add(pocket010.rotate(polarpattern002_axis, i * 360 / POLARPATTERN002_COUNT), mode=Mode.SUBTRACT)


solid = Compound([f_20anglebody.part, f_15anglebody.part, holdershaftbody.part, holderendbody.part, knifebinderbody.part, endblockkbody.part, f_3mmknobbody.part, f_4mmknobbody.part, f_5mmknobbody.part])
